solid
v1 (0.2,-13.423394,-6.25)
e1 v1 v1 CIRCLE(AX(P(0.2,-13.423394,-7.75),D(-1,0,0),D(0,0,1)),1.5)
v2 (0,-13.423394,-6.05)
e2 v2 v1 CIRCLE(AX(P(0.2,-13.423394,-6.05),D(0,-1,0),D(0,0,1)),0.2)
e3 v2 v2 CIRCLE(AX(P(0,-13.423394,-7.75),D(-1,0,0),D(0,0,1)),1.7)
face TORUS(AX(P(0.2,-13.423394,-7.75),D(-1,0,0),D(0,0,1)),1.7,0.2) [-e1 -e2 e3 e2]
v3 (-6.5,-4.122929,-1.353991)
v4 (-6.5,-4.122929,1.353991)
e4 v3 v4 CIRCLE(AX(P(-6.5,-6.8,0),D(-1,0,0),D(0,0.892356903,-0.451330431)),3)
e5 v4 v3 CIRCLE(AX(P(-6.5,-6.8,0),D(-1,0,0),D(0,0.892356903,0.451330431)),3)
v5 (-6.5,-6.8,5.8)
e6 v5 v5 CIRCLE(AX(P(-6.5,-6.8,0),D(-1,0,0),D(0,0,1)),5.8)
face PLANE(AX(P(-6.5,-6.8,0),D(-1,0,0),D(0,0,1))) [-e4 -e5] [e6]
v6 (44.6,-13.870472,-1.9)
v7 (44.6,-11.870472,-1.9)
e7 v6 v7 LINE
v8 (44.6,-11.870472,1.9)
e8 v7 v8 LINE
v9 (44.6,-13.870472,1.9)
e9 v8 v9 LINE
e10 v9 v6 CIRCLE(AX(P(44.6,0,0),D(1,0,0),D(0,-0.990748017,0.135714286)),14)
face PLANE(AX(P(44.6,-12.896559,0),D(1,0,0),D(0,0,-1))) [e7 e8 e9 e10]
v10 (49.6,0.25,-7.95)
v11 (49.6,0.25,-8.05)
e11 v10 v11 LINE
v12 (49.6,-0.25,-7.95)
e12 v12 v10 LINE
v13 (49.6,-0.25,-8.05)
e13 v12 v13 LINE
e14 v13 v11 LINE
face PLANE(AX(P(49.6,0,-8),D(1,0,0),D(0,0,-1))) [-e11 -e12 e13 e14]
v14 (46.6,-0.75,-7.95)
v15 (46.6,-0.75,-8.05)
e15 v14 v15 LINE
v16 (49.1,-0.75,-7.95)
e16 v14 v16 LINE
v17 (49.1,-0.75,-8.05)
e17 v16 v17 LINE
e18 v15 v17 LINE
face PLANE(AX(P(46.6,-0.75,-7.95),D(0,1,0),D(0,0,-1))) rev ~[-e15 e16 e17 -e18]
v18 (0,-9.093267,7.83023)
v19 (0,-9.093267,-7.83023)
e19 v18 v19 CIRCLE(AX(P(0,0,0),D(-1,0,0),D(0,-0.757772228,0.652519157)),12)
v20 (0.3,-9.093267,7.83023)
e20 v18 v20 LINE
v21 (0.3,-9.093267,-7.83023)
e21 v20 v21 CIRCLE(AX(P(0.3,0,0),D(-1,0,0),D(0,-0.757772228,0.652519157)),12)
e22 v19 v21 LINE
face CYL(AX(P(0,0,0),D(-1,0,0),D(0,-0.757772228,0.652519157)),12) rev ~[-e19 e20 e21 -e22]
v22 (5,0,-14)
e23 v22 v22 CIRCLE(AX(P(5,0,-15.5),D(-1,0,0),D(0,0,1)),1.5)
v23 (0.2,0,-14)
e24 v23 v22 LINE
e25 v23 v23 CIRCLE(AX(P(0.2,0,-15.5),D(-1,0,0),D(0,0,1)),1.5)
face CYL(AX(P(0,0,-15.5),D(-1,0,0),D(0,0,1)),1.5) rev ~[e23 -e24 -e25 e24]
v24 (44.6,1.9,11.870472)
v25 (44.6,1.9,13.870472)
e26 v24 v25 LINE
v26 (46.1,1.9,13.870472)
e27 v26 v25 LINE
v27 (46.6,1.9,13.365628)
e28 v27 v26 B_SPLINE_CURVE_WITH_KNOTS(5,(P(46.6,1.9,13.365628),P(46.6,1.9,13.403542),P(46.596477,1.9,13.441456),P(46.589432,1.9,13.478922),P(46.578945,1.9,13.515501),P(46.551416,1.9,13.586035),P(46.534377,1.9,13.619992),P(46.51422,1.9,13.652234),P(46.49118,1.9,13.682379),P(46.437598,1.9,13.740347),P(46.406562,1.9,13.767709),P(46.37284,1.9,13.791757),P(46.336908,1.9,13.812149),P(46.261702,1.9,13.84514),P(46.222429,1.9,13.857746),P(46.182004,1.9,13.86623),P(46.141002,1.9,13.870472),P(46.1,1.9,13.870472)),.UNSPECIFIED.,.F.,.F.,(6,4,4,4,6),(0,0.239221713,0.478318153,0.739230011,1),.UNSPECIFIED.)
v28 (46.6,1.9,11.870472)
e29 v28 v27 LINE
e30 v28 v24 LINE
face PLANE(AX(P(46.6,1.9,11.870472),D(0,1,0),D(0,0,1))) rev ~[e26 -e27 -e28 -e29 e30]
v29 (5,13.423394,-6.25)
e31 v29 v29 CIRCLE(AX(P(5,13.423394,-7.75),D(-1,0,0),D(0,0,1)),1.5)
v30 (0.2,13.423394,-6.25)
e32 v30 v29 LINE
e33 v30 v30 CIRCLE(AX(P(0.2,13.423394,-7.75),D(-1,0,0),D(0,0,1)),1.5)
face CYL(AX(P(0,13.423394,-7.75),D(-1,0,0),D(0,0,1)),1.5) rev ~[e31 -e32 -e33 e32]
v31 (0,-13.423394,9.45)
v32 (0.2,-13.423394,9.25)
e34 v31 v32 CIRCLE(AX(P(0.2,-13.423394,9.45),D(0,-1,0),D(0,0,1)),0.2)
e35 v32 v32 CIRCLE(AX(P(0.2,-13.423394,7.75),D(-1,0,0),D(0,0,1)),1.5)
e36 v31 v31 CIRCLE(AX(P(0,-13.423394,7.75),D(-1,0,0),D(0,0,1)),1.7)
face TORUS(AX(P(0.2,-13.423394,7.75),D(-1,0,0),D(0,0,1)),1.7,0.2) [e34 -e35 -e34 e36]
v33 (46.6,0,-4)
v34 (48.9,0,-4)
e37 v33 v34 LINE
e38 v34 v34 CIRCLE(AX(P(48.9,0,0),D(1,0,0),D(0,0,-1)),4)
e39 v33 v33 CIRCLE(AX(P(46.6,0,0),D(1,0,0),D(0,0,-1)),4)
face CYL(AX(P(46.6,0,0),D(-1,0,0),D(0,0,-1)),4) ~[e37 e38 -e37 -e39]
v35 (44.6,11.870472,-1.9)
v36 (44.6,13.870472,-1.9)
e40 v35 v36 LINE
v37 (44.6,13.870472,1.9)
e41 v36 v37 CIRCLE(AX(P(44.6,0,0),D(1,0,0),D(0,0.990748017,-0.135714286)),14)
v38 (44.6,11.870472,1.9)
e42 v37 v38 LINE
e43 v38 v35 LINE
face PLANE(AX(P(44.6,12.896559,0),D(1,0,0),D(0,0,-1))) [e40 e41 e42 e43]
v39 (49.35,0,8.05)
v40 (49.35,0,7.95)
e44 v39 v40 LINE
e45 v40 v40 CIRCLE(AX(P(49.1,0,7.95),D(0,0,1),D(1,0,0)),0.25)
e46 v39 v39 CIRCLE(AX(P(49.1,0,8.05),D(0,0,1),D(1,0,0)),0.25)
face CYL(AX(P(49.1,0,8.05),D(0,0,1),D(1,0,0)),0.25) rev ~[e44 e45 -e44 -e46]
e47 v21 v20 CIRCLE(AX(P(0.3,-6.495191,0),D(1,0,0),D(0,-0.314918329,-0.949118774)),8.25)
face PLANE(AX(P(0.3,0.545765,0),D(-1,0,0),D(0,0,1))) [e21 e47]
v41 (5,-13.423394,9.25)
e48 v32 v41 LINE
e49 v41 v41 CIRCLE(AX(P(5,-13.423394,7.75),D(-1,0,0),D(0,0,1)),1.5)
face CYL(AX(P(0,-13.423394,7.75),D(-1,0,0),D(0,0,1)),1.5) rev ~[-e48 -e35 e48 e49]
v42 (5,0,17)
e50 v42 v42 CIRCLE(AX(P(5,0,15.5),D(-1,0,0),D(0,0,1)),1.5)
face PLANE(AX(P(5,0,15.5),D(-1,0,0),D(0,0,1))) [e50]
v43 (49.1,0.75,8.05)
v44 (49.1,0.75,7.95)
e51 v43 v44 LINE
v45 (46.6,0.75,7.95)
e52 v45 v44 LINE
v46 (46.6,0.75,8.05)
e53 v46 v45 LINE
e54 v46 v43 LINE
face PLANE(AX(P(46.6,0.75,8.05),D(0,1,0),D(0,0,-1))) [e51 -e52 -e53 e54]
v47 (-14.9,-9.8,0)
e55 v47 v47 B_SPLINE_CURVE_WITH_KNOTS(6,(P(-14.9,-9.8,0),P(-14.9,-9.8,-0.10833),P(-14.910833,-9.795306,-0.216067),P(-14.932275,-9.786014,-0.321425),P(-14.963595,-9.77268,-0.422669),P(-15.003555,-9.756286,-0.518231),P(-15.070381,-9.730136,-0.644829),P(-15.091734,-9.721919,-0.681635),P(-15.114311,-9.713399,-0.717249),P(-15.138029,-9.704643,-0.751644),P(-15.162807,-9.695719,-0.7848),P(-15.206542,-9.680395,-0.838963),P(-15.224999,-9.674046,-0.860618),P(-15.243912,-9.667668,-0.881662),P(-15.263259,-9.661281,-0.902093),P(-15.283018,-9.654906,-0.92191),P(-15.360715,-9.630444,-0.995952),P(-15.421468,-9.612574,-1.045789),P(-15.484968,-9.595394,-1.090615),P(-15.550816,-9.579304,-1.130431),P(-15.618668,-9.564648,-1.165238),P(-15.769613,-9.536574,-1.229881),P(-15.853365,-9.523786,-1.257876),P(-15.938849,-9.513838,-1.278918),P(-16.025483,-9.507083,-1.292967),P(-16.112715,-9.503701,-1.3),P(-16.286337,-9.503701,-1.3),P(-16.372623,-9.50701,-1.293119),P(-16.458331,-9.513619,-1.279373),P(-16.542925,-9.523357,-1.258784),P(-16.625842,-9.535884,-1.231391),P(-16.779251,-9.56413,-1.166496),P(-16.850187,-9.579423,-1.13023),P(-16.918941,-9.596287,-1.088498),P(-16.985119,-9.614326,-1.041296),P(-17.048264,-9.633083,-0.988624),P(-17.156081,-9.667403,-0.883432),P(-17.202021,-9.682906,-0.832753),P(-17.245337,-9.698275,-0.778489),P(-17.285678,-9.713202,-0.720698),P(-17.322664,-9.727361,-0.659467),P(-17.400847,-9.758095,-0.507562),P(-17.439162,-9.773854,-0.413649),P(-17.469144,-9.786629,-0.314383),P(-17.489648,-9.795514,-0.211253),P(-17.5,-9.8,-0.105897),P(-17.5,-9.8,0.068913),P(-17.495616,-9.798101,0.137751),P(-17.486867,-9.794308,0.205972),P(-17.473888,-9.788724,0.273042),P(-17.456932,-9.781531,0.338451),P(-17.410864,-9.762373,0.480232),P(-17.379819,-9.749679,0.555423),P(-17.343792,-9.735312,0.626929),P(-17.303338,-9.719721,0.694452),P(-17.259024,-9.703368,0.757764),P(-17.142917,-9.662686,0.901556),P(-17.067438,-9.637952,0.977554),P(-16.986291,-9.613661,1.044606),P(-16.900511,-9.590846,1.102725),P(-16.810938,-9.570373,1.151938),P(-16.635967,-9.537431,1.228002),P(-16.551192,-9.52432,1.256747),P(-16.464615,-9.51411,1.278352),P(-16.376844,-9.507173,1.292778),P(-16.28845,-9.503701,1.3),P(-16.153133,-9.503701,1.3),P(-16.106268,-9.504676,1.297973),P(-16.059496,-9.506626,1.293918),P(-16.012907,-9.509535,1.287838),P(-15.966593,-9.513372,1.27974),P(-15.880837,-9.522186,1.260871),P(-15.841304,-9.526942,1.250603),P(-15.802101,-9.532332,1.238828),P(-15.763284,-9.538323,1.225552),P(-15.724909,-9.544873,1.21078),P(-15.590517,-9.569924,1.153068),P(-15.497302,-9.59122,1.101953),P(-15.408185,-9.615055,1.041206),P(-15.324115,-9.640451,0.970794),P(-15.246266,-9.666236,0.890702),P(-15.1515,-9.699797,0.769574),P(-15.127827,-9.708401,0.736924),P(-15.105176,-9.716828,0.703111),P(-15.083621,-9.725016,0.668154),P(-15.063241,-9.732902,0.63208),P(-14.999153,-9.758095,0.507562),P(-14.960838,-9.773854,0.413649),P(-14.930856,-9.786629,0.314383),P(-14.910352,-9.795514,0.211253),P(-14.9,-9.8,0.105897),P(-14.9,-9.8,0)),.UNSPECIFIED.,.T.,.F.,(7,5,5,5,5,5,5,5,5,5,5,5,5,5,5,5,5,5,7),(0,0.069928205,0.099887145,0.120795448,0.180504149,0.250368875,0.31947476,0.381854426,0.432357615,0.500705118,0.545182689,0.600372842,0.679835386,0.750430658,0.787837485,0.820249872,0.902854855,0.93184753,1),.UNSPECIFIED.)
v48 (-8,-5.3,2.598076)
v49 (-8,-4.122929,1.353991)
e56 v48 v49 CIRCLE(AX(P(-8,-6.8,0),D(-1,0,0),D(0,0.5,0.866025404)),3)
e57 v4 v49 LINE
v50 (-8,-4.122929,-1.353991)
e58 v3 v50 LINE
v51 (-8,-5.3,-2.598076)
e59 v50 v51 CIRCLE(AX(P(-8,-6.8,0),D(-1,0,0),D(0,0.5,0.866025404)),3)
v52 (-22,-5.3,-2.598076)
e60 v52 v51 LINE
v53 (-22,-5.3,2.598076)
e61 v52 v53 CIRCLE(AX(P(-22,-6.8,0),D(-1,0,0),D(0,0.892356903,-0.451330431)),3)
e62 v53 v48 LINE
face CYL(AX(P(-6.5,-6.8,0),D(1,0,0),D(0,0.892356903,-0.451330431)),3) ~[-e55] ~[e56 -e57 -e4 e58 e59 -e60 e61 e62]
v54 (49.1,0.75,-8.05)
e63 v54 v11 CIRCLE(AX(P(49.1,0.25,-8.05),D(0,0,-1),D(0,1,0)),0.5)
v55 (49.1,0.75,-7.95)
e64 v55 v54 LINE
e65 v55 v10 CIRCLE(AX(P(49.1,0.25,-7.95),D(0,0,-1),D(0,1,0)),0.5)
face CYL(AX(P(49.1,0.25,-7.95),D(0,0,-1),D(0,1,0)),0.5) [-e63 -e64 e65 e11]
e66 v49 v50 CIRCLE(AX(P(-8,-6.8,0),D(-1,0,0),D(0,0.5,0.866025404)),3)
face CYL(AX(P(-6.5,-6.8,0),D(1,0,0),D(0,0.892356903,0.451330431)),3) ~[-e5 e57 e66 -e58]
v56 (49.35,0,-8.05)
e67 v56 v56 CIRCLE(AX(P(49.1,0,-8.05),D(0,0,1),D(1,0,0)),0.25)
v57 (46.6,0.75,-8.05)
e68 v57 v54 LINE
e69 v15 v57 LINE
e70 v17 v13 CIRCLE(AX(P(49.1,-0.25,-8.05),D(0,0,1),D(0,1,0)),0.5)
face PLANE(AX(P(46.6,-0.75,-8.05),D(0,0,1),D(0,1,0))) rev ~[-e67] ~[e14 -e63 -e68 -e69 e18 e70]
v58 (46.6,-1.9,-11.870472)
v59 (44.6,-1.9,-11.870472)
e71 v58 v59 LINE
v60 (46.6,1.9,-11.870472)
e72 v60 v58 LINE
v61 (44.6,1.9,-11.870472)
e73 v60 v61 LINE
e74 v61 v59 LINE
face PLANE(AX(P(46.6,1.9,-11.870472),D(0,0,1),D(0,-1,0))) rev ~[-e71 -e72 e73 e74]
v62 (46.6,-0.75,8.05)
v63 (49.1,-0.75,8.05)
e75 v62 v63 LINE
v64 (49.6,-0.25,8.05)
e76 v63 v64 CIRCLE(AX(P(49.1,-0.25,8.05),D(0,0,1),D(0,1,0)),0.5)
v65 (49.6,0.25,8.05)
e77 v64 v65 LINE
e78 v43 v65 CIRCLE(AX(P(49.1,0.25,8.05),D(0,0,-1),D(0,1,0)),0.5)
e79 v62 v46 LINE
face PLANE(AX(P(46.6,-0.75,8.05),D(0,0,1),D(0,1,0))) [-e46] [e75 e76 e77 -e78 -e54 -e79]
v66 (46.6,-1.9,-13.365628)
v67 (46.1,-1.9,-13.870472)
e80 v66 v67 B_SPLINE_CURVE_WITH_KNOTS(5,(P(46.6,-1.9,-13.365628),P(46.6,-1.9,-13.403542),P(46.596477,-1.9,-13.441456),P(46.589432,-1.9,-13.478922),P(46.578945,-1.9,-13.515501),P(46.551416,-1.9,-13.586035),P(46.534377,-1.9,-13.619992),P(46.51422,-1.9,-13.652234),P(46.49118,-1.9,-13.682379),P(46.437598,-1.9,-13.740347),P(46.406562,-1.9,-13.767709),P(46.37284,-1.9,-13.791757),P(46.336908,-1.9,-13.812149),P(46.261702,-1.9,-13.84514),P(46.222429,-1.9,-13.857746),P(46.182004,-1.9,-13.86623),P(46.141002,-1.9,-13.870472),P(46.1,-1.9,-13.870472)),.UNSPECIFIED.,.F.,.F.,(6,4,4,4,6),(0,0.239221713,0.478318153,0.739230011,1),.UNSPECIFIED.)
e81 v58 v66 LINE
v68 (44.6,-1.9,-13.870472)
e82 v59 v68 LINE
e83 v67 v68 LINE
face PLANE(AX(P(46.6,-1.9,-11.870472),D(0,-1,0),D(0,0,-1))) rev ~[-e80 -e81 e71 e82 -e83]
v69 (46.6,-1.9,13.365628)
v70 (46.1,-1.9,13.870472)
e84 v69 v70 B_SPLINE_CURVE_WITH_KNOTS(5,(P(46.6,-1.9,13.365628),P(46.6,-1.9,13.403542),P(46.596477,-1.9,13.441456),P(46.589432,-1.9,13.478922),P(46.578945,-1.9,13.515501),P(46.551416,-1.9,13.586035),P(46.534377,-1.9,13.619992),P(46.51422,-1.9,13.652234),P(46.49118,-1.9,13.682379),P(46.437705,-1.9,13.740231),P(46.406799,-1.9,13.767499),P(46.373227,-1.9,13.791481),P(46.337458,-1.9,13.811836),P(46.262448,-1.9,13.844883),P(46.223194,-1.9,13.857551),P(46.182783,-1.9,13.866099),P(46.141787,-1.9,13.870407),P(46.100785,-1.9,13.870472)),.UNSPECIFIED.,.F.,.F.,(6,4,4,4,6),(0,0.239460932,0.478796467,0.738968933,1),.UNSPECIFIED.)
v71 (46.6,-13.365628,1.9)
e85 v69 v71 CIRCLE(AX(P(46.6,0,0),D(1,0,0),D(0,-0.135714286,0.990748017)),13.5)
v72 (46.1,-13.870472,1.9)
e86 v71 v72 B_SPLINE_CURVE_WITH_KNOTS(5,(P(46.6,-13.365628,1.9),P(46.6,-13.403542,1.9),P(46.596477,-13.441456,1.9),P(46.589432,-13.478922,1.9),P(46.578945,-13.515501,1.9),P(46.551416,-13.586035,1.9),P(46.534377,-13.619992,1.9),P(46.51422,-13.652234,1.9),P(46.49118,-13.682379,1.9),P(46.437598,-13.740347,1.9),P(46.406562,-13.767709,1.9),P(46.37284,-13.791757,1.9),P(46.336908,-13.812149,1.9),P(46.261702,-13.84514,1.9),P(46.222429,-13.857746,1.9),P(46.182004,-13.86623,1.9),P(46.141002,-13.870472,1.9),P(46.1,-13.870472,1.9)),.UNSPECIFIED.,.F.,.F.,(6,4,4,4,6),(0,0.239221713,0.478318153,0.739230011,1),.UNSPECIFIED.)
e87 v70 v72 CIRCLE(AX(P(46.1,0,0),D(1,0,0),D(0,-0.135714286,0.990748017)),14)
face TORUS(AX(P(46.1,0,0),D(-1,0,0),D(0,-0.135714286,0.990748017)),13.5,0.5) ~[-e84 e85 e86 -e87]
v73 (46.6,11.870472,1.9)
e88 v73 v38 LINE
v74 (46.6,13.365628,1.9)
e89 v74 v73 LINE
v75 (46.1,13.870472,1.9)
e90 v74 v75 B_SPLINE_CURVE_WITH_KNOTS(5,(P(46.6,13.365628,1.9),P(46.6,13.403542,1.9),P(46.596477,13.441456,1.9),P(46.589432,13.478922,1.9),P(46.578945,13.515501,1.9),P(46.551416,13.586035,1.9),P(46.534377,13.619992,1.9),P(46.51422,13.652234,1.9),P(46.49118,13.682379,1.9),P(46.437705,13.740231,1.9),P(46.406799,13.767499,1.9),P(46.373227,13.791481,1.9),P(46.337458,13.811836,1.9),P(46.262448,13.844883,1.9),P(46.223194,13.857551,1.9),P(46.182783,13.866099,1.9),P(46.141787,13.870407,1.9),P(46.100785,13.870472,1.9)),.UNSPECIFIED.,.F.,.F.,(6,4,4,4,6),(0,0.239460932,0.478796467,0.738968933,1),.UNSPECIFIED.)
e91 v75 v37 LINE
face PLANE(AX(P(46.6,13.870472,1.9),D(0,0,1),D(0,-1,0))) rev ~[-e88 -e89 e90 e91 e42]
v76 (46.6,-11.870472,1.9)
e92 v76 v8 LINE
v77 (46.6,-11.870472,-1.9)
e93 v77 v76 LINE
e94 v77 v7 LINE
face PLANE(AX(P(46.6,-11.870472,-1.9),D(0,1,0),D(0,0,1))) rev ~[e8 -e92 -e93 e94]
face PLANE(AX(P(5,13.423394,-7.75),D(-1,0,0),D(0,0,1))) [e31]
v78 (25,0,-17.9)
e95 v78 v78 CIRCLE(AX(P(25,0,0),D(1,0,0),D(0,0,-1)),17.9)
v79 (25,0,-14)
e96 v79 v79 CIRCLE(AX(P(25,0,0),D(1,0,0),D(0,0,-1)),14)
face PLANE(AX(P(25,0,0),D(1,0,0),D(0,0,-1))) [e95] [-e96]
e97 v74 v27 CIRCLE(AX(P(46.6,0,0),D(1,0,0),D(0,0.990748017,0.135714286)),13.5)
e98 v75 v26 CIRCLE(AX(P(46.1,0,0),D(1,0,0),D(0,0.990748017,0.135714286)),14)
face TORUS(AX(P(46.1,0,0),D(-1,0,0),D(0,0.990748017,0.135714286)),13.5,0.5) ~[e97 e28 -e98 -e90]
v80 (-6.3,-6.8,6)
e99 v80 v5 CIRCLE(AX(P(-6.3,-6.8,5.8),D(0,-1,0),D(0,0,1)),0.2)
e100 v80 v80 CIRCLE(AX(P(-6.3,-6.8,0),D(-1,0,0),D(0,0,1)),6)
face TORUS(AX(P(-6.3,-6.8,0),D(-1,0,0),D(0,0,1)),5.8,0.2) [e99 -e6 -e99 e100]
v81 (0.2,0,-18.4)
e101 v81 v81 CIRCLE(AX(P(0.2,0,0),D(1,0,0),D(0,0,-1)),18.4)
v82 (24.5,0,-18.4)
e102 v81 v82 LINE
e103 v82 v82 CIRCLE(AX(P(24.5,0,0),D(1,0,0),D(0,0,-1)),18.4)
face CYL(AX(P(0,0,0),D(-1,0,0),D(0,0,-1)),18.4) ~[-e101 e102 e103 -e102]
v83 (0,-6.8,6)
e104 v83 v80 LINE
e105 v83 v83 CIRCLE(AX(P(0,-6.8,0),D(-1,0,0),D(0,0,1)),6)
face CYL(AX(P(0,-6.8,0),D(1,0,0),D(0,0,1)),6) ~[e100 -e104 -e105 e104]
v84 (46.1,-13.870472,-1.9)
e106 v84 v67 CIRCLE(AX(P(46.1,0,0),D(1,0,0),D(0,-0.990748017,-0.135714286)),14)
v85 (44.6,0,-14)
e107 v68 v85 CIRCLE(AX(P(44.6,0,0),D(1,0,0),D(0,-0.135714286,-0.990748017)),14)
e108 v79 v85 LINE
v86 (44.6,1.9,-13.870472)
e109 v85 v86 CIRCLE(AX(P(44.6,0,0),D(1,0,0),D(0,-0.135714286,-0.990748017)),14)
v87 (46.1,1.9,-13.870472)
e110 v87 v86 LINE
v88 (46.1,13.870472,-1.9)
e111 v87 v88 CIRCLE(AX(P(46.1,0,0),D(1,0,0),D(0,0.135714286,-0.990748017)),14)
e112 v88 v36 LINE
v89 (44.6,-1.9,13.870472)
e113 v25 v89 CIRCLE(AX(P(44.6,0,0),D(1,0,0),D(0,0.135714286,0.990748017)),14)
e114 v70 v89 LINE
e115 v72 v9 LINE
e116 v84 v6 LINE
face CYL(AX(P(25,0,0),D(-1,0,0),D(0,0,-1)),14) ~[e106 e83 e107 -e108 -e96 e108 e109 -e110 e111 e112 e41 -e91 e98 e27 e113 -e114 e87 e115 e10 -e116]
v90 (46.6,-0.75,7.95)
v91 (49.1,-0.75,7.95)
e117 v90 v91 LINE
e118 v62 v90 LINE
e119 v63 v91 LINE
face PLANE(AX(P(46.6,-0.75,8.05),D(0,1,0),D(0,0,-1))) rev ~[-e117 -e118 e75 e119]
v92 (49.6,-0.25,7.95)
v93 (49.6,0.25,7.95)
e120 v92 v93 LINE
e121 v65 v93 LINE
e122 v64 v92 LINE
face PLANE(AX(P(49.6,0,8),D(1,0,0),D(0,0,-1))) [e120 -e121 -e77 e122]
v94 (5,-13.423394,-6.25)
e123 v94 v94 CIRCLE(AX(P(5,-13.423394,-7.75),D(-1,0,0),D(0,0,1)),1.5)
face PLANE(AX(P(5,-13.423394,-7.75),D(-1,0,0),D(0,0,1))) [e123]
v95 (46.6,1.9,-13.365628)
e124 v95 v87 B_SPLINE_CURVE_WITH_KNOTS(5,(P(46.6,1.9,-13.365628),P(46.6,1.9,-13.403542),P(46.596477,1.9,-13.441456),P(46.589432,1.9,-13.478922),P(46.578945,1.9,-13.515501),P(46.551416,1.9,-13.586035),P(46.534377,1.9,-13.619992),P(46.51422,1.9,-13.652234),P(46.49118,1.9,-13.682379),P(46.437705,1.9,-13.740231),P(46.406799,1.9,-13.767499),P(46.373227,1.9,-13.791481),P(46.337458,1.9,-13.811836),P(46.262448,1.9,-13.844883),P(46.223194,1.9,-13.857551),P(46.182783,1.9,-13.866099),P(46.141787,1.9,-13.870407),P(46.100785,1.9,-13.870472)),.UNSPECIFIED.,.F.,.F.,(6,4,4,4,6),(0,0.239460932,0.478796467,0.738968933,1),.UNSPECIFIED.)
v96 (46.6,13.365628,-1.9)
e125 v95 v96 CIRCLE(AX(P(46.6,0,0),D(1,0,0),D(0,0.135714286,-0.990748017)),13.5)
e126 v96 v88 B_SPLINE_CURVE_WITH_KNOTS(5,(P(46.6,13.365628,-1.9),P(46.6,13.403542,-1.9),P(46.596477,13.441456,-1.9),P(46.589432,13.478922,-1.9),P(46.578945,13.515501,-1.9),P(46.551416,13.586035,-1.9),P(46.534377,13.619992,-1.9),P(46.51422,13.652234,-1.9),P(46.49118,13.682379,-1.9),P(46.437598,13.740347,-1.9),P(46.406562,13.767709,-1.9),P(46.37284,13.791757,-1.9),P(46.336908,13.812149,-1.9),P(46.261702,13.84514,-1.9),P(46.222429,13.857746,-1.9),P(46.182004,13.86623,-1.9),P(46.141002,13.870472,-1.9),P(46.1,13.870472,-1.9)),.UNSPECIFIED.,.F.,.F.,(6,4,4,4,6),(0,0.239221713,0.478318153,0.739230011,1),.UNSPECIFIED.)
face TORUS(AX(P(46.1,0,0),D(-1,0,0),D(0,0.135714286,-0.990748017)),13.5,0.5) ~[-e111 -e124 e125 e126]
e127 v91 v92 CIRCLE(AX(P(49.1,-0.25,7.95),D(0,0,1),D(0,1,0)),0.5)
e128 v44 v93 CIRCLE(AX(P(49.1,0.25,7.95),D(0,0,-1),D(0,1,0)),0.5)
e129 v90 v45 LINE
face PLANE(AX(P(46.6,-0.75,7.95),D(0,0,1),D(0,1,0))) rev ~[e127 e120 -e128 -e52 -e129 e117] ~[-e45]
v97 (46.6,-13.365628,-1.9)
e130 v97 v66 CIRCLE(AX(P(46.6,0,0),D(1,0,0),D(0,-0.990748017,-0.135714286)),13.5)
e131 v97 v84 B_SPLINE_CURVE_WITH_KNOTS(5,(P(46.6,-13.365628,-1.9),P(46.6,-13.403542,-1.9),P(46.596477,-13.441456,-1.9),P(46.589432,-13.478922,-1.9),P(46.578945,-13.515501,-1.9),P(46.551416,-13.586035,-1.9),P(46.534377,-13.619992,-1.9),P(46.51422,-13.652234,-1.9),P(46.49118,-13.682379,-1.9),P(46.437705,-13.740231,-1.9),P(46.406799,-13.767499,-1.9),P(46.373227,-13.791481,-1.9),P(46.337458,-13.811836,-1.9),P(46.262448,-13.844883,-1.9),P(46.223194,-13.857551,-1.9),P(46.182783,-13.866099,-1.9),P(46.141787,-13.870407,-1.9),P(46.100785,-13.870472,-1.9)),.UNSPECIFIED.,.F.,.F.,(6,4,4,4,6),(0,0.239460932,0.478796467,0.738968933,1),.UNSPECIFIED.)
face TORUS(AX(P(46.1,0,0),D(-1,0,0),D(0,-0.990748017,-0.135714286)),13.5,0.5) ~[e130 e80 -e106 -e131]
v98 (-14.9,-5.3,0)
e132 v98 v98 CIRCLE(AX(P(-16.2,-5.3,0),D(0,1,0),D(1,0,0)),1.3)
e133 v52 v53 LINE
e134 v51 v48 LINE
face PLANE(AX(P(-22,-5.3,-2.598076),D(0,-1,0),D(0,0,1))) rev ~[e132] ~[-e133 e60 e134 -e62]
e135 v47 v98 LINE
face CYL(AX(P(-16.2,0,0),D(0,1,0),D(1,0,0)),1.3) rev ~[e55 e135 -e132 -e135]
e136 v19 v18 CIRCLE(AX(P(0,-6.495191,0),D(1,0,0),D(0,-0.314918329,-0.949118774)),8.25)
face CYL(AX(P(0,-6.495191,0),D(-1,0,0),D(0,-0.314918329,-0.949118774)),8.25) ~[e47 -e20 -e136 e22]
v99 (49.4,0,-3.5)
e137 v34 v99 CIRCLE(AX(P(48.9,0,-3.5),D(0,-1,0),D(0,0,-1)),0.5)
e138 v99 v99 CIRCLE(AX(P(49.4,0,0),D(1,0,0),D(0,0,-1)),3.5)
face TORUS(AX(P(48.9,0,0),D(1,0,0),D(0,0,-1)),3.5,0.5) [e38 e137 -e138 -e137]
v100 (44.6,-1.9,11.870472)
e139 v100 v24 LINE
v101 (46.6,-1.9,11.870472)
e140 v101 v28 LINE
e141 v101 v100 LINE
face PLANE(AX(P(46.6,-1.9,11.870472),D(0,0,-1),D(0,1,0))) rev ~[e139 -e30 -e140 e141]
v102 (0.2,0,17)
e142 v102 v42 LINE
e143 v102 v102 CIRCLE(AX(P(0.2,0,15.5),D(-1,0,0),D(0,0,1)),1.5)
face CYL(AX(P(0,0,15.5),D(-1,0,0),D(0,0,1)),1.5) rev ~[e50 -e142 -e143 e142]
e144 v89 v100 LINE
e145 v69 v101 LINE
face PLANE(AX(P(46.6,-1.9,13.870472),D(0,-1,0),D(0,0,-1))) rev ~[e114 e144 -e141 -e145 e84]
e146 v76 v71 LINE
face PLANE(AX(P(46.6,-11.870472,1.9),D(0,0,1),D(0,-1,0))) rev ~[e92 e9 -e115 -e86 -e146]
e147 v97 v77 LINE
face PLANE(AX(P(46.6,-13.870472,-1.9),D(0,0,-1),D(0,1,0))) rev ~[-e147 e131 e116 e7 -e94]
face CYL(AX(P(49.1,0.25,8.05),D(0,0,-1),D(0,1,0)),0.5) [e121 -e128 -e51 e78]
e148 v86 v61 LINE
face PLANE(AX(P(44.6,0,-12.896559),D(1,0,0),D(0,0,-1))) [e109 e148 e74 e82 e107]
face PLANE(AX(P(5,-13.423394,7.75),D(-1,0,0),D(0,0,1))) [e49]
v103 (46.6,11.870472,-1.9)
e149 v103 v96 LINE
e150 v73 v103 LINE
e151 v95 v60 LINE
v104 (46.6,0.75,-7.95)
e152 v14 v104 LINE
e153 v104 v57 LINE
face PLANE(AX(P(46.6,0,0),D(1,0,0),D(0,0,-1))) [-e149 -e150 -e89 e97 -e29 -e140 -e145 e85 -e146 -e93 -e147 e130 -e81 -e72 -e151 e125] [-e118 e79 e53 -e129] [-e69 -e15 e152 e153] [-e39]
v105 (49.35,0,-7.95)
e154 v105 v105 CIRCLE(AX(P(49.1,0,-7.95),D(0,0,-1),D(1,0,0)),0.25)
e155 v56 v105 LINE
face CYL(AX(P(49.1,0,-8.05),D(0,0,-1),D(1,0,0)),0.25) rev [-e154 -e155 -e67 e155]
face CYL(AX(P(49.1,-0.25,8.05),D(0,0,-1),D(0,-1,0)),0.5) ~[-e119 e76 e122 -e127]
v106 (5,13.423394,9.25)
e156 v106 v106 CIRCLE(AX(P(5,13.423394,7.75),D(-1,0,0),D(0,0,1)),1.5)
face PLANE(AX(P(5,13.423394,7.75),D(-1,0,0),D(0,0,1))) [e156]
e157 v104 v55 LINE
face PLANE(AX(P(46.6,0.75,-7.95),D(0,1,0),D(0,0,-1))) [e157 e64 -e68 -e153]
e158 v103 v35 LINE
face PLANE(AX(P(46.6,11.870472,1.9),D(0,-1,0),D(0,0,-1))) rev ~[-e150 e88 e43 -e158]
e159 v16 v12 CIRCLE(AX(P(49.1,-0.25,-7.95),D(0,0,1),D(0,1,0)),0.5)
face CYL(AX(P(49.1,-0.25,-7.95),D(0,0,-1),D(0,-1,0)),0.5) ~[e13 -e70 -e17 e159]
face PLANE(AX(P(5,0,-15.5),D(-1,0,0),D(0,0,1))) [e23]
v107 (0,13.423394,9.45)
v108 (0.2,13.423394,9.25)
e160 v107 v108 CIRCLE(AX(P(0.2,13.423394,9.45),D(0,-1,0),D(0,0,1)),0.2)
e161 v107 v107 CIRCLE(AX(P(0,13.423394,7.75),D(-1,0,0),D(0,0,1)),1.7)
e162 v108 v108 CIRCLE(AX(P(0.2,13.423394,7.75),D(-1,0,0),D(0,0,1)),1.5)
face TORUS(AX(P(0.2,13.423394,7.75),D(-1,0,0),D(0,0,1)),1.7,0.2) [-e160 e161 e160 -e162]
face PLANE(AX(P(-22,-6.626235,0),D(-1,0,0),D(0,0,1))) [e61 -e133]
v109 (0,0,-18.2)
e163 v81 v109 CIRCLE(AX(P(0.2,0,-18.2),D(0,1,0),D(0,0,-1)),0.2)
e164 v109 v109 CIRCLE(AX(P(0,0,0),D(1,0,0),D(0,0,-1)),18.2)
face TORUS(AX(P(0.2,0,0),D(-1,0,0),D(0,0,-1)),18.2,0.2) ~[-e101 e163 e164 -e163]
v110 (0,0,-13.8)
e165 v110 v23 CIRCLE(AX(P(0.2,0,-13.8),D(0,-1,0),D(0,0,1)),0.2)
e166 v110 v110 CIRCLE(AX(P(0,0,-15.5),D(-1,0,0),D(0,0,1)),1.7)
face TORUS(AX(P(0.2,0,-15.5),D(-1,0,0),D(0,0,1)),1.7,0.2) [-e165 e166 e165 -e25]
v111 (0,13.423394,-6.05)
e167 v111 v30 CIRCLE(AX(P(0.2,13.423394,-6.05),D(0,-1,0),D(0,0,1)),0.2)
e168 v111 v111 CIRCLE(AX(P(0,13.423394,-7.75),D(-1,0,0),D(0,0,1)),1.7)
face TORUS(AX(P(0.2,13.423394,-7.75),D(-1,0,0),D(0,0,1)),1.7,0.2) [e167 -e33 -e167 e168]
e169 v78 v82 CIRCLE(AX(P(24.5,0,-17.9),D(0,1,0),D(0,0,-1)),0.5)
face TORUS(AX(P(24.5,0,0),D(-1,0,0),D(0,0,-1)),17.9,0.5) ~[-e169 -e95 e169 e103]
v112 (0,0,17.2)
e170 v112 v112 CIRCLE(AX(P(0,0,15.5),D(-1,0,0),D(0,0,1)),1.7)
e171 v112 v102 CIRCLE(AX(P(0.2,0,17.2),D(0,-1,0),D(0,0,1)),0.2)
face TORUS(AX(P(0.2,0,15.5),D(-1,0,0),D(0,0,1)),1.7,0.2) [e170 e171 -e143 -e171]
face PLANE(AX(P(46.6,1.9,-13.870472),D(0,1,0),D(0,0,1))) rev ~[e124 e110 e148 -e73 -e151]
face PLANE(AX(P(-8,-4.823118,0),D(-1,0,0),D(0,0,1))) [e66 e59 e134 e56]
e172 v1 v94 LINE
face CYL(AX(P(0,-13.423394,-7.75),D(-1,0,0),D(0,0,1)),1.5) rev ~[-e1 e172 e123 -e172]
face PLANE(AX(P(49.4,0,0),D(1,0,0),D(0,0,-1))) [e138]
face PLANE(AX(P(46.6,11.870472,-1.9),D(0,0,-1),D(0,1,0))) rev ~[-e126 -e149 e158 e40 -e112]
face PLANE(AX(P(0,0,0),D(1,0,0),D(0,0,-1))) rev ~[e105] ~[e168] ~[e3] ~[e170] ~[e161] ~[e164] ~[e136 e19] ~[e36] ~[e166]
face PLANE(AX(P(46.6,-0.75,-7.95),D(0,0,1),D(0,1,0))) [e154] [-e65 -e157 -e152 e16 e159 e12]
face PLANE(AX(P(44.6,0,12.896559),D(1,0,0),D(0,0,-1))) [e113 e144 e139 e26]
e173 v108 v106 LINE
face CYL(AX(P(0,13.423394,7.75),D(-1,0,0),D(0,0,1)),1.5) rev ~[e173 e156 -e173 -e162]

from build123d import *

# Parameters (mm, degrees)
SKETCH1_R            = 18.4
BOSS_EXTRUDE1_DEPTH  = 25
SKETCH2_R            = 1.5
CUT_EXTRUDE1_DEPTH   = 5
SKETCH4_R            = 6
BOSS_EXTRUDE2_DEPTH  = 6.5
BOSS_EXTRUDE3_DEPTH  = 15.5
CUT_EXTRUDE2_DEPTH   = 0.3
SKETCH8_R            = 14
BOSS_EXTRUDE5_DEPTH  = 21.6
FILLET3_R            = 0.2
SKETCH21_R           = 1.3
CUT_EXTRUDE8_DEPTH   = 10
CUT_EXTRUDE10_START  = -2
CUT_EXTRUDE10_DEPTH  = 2
SKETCH24_R           = 4
BOSS_EXTRUDE11_DEPTH = 2.8
SKETCH25_W           = 0.1
SKETCH25_H           = 1.5
BOSS_EXTRUDE12_DEPTH = 3
FILLET13_R           = 0.5
SKETCH26_R           = 0.25
CUT_EXTRUDE11_DEPTH  = 2
FILLET14_R           = 0.5
FILLET15_R           = 0.5
FILLET16_R           = 0.5
CUT_EXTRUDE12_START  = -14
CUT_EXTRUDE12_DEPTH  = 14


with BuildPart() as part:
    # Sketch1 → Boss-Extrude1 (new body)
    with BuildSketch(Plane(origin=(0, 0, 0), x_dir=(0, 0, -1), z_dir=(1, 0, 0))):
        Circle(SKETCH1_R)
    extrude(amount=BOSS_EXTRUDE1_DEPTH)

    # Sketch2 → Cut-Extrude1 (cut)
    with BuildSketch(Plane.ZY):
        with Locations((15.5, 0)):
            Circle(SKETCH2_R)
        with Locations((7.75, -13.423393759)):
            Circle(SKETCH2_R)
        with Locations((-7.75, -13.423393759)):
            Circle(SKETCH2_R)
        with Locations((-15.5, 0)):
            Circle(SKETCH2_R)
        with Locations((-7.75, 13.423393759)):
            Circle(SKETCH2_R)
        with Locations((7.75, 13.423393759)):
            Circle(SKETCH2_R)
    extrude(amount=-CUT_EXTRUDE1_DEPTH, mode=Mode.SUBTRACT)

    # Sketch4 → Boss-Extrude2 (add)
    with BuildSketch(Plane.ZY):
        with Locations((0, -6.8)):
            Circle(SKETCH4_R)
    extrude(amount=BOSS_EXTRUDE2_DEPTH)

    # Sketch5 → Boss-Extrude3 (add)
    with BuildSketch(Plane.ZY.offset(6.5)):
        with BuildLine():
            ThreePointArc((-1.353991294, -4.122929292), (0, -9.8), (1.353991294, -4.122929292))
            ThreePointArc((1.353991294, -4.122929292), (0, -3.8), (-1.353991294, -4.122929292))
        make_face()
    extrude(amount=BOSS_EXTRUDE3_DEPTH)

    # Sketch7 → Cut-Extrude2 (cut)
    with BuildSketch(Plane.ZY):
        with BuildLine():
            ThreePointArc((7.830229882, -9.09326674), (0, 12), (-7.830229882, -9.09326674))
            ThreePointArc((-7.830229882, -9.09326674), (0, 1.754809472), (7.830229882, -9.09326674))
        make_face()
    extrude(amount=-CUT_EXTRUDE2_DEPTH, mode=Mode.SUBTRACT)

    # Sketch8 → Boss-Extrude5 (add)
    with BuildSketch(Plane(origin=(25, 0, 0), x_dir=(0, 0, -1), z_dir=(1, 0, 0))):
        Circle(SKETCH8_R)
    extrude(amount=BOSS_EXTRUDE5_DEPTH)

    # Fillet3
    fillet3_edges = [part.edges().sort_by_distance(p)[0] for p in [
        (0, 0, 18.4),
        (-6.5, -6.8, -6),
        (0, -13.423393759, 6.25),
        (0, 0, 14),
        (0, -13.423393759, -9.25),
        (0, 0, -17),
        (0, 13.423393759, -9.25),
        (0, 13.423393759, 6.25),
    ]]
    fillet(fillet3_edges, radius=FILLET3_R)

    # Sketch21 → Cut-Extrude8 (cut, symmetric)
    with BuildSketch(Plane(origin=(0, 0, 0), x_dir=(1, 0, 0), z_dir=(0, 1, 0))):
        with Locations((-16.2, 0)):
            Circle(SKETCH21_R)
    extrude(amount=CUT_EXTRUDE8_DEPTH, both=True, mode=Mode.SUBTRACT)

    # Sketch23 → Cut-Extrude10 (cut)
    with BuildSketch(Plane(origin=(46.6, 0, 0), x_dir=(0, 0, -1), z_dir=(1, 0, 0)).offset(CUT_EXTRUDE10_START)):
        with BuildLine():
            Line((-1.9, 13.870472234), (-1.9, 11.870472234))
            Line((-1.9, 11.870472234), (1.9, 11.870472234))
            Line((1.9, 11.870472234), (1.9, 13.870472234))
            ThreePointArc((1.9, 13.870472234), (0, 14), (-1.9, 13.870472234))
        make_face()
        with BuildLine():
            Line((13.870472234, 1.9), (11.870472234, 1.9))
            Line((11.870472234, 1.9), (11.870472234, -1.9))
            Line((11.870472234, -1.9), (13.870472234, -1.9))
            ThreePointArc((13.870472234, -1.9), (14, 0), (13.870472234, 1.9))
        make_face()
        with BuildLine():
            Line((1.9, -13.870472234), (1.9, -11.870472234))
            Line((1.9, -11.870472234), (-1.9, -11.870472234))
            Line((-1.9, -11.870472234), (-1.9, -13.870472234))
            ThreePointArc((-1.9, -13.870472234), (0, -14), (1.9, -13.870472234))
        make_face()
        with BuildLine():
            Line((-13.870472234, -1.9), (-11.870472234, -1.9))
            Line((-11.870472234, -1.9), (-11.870472234, 1.9))
            Line((-11.870472234, 1.9), (-13.870472234, 1.9))
            ThreePointArc((-13.870472234, 1.9), (-14, 0), (-13.870472234, -1.9))
        make_face()
    extrude(amount=CUT_EXTRUDE10_DEPTH, mode=Mode.SUBTRACT)

    # Sketch24 → Boss-Extrude11 (add)
    with BuildSketch(Plane(origin=(46.6, 0, 0), x_dir=(0, 0, -1), z_dir=(1, 0, 0))):
        Circle(SKETCH24_R)
    extrude(amount=BOSS_EXTRUDE11_DEPTH)

    # Sketch25 → Boss-Extrude12 (add)
    with BuildSketch(Plane(origin=(46.6, 0, 0), x_dir=(0, 0, -1), z_dir=(1, 0, 0))):
        with Locations((8, 0)):
            Rectangle(SKETCH25_W, SKETCH25_H)
        with Locations((-8, 0)):
            Rectangle(SKETCH25_W, SKETCH25_H)
    extrude(amount=BOSS_EXTRUDE12_DEPTH)

    # Fillet13
    fillet13_edges = [part.edges().sort_by_distance(p)[0] for p in [
        (49.6, 0.75, -8),
        (49.6, -0.75, -8),
        (49.6, 0.75, 8),
        (49.6, -0.75, 8),
    ]]
    fillet(fillet13_edges, radius=FILLET13_R)

    # Sketch26 → Cut-Extrude11 (cut)
    with BuildSketch(Plane.XY.offset(8.05)):
        with Locations((49.1, 0)):
            Circle(SKETCH26_R)
    cut_extrude11 = extrude(amount=-CUT_EXTRUDE11_DEPTH, mode=Mode.SUBTRACT)

    # Mirror1: Cut-Extrude11 across plane
    add(cut_extrude11.mirror(Plane.XY), mode=Mode.SUBTRACT)

    # Fillet14
    fillet14_edges = [part.edges().sort_by_distance(p)[0] for p in [
        (49.4, 0, 4),
    ]]
    fillet(fillet14_edges, radius=FILLET14_R)

    # Fillet15
    fillet15_edges = [part.edges().sort_by_distance(p)[0] for p in [
        (46.6, -9.899494937, -9.899494937),
        (46.6, -9.899494937, 9.899494937),
        (46.6, 9.899494937, -9.899494937),
        (46.6, 9.899494937, 9.899494937),
    ]]
    fillet(fillet15_edges, radius=FILLET15_R)

    # Fillet16
    fillet16_edges = [part.edges().sort_by_distance(p)[0] for p in [
        (25, 0, 18.4),
    ]]
    fillet(fillet16_edges, radius=FILLET16_R)

    # Sketch27 → Cut-Extrude12 (cut)
    with BuildSketch(Plane.ZY.offset(22).offset(CUT_EXTRUDE12_START)):
        with BuildLine():
            Line((-2.598076211, -5.3), (2.598076211, -5.3))
            ThreePointArc((2.598076211, -5.3), (0, -3.8), (-2.598076211, -5.3))
        make_face()
    extrude(amount=CUT_EXTRUDE12_DEPTH, mode=Mode.SUBTRACT)


solid = part.part
